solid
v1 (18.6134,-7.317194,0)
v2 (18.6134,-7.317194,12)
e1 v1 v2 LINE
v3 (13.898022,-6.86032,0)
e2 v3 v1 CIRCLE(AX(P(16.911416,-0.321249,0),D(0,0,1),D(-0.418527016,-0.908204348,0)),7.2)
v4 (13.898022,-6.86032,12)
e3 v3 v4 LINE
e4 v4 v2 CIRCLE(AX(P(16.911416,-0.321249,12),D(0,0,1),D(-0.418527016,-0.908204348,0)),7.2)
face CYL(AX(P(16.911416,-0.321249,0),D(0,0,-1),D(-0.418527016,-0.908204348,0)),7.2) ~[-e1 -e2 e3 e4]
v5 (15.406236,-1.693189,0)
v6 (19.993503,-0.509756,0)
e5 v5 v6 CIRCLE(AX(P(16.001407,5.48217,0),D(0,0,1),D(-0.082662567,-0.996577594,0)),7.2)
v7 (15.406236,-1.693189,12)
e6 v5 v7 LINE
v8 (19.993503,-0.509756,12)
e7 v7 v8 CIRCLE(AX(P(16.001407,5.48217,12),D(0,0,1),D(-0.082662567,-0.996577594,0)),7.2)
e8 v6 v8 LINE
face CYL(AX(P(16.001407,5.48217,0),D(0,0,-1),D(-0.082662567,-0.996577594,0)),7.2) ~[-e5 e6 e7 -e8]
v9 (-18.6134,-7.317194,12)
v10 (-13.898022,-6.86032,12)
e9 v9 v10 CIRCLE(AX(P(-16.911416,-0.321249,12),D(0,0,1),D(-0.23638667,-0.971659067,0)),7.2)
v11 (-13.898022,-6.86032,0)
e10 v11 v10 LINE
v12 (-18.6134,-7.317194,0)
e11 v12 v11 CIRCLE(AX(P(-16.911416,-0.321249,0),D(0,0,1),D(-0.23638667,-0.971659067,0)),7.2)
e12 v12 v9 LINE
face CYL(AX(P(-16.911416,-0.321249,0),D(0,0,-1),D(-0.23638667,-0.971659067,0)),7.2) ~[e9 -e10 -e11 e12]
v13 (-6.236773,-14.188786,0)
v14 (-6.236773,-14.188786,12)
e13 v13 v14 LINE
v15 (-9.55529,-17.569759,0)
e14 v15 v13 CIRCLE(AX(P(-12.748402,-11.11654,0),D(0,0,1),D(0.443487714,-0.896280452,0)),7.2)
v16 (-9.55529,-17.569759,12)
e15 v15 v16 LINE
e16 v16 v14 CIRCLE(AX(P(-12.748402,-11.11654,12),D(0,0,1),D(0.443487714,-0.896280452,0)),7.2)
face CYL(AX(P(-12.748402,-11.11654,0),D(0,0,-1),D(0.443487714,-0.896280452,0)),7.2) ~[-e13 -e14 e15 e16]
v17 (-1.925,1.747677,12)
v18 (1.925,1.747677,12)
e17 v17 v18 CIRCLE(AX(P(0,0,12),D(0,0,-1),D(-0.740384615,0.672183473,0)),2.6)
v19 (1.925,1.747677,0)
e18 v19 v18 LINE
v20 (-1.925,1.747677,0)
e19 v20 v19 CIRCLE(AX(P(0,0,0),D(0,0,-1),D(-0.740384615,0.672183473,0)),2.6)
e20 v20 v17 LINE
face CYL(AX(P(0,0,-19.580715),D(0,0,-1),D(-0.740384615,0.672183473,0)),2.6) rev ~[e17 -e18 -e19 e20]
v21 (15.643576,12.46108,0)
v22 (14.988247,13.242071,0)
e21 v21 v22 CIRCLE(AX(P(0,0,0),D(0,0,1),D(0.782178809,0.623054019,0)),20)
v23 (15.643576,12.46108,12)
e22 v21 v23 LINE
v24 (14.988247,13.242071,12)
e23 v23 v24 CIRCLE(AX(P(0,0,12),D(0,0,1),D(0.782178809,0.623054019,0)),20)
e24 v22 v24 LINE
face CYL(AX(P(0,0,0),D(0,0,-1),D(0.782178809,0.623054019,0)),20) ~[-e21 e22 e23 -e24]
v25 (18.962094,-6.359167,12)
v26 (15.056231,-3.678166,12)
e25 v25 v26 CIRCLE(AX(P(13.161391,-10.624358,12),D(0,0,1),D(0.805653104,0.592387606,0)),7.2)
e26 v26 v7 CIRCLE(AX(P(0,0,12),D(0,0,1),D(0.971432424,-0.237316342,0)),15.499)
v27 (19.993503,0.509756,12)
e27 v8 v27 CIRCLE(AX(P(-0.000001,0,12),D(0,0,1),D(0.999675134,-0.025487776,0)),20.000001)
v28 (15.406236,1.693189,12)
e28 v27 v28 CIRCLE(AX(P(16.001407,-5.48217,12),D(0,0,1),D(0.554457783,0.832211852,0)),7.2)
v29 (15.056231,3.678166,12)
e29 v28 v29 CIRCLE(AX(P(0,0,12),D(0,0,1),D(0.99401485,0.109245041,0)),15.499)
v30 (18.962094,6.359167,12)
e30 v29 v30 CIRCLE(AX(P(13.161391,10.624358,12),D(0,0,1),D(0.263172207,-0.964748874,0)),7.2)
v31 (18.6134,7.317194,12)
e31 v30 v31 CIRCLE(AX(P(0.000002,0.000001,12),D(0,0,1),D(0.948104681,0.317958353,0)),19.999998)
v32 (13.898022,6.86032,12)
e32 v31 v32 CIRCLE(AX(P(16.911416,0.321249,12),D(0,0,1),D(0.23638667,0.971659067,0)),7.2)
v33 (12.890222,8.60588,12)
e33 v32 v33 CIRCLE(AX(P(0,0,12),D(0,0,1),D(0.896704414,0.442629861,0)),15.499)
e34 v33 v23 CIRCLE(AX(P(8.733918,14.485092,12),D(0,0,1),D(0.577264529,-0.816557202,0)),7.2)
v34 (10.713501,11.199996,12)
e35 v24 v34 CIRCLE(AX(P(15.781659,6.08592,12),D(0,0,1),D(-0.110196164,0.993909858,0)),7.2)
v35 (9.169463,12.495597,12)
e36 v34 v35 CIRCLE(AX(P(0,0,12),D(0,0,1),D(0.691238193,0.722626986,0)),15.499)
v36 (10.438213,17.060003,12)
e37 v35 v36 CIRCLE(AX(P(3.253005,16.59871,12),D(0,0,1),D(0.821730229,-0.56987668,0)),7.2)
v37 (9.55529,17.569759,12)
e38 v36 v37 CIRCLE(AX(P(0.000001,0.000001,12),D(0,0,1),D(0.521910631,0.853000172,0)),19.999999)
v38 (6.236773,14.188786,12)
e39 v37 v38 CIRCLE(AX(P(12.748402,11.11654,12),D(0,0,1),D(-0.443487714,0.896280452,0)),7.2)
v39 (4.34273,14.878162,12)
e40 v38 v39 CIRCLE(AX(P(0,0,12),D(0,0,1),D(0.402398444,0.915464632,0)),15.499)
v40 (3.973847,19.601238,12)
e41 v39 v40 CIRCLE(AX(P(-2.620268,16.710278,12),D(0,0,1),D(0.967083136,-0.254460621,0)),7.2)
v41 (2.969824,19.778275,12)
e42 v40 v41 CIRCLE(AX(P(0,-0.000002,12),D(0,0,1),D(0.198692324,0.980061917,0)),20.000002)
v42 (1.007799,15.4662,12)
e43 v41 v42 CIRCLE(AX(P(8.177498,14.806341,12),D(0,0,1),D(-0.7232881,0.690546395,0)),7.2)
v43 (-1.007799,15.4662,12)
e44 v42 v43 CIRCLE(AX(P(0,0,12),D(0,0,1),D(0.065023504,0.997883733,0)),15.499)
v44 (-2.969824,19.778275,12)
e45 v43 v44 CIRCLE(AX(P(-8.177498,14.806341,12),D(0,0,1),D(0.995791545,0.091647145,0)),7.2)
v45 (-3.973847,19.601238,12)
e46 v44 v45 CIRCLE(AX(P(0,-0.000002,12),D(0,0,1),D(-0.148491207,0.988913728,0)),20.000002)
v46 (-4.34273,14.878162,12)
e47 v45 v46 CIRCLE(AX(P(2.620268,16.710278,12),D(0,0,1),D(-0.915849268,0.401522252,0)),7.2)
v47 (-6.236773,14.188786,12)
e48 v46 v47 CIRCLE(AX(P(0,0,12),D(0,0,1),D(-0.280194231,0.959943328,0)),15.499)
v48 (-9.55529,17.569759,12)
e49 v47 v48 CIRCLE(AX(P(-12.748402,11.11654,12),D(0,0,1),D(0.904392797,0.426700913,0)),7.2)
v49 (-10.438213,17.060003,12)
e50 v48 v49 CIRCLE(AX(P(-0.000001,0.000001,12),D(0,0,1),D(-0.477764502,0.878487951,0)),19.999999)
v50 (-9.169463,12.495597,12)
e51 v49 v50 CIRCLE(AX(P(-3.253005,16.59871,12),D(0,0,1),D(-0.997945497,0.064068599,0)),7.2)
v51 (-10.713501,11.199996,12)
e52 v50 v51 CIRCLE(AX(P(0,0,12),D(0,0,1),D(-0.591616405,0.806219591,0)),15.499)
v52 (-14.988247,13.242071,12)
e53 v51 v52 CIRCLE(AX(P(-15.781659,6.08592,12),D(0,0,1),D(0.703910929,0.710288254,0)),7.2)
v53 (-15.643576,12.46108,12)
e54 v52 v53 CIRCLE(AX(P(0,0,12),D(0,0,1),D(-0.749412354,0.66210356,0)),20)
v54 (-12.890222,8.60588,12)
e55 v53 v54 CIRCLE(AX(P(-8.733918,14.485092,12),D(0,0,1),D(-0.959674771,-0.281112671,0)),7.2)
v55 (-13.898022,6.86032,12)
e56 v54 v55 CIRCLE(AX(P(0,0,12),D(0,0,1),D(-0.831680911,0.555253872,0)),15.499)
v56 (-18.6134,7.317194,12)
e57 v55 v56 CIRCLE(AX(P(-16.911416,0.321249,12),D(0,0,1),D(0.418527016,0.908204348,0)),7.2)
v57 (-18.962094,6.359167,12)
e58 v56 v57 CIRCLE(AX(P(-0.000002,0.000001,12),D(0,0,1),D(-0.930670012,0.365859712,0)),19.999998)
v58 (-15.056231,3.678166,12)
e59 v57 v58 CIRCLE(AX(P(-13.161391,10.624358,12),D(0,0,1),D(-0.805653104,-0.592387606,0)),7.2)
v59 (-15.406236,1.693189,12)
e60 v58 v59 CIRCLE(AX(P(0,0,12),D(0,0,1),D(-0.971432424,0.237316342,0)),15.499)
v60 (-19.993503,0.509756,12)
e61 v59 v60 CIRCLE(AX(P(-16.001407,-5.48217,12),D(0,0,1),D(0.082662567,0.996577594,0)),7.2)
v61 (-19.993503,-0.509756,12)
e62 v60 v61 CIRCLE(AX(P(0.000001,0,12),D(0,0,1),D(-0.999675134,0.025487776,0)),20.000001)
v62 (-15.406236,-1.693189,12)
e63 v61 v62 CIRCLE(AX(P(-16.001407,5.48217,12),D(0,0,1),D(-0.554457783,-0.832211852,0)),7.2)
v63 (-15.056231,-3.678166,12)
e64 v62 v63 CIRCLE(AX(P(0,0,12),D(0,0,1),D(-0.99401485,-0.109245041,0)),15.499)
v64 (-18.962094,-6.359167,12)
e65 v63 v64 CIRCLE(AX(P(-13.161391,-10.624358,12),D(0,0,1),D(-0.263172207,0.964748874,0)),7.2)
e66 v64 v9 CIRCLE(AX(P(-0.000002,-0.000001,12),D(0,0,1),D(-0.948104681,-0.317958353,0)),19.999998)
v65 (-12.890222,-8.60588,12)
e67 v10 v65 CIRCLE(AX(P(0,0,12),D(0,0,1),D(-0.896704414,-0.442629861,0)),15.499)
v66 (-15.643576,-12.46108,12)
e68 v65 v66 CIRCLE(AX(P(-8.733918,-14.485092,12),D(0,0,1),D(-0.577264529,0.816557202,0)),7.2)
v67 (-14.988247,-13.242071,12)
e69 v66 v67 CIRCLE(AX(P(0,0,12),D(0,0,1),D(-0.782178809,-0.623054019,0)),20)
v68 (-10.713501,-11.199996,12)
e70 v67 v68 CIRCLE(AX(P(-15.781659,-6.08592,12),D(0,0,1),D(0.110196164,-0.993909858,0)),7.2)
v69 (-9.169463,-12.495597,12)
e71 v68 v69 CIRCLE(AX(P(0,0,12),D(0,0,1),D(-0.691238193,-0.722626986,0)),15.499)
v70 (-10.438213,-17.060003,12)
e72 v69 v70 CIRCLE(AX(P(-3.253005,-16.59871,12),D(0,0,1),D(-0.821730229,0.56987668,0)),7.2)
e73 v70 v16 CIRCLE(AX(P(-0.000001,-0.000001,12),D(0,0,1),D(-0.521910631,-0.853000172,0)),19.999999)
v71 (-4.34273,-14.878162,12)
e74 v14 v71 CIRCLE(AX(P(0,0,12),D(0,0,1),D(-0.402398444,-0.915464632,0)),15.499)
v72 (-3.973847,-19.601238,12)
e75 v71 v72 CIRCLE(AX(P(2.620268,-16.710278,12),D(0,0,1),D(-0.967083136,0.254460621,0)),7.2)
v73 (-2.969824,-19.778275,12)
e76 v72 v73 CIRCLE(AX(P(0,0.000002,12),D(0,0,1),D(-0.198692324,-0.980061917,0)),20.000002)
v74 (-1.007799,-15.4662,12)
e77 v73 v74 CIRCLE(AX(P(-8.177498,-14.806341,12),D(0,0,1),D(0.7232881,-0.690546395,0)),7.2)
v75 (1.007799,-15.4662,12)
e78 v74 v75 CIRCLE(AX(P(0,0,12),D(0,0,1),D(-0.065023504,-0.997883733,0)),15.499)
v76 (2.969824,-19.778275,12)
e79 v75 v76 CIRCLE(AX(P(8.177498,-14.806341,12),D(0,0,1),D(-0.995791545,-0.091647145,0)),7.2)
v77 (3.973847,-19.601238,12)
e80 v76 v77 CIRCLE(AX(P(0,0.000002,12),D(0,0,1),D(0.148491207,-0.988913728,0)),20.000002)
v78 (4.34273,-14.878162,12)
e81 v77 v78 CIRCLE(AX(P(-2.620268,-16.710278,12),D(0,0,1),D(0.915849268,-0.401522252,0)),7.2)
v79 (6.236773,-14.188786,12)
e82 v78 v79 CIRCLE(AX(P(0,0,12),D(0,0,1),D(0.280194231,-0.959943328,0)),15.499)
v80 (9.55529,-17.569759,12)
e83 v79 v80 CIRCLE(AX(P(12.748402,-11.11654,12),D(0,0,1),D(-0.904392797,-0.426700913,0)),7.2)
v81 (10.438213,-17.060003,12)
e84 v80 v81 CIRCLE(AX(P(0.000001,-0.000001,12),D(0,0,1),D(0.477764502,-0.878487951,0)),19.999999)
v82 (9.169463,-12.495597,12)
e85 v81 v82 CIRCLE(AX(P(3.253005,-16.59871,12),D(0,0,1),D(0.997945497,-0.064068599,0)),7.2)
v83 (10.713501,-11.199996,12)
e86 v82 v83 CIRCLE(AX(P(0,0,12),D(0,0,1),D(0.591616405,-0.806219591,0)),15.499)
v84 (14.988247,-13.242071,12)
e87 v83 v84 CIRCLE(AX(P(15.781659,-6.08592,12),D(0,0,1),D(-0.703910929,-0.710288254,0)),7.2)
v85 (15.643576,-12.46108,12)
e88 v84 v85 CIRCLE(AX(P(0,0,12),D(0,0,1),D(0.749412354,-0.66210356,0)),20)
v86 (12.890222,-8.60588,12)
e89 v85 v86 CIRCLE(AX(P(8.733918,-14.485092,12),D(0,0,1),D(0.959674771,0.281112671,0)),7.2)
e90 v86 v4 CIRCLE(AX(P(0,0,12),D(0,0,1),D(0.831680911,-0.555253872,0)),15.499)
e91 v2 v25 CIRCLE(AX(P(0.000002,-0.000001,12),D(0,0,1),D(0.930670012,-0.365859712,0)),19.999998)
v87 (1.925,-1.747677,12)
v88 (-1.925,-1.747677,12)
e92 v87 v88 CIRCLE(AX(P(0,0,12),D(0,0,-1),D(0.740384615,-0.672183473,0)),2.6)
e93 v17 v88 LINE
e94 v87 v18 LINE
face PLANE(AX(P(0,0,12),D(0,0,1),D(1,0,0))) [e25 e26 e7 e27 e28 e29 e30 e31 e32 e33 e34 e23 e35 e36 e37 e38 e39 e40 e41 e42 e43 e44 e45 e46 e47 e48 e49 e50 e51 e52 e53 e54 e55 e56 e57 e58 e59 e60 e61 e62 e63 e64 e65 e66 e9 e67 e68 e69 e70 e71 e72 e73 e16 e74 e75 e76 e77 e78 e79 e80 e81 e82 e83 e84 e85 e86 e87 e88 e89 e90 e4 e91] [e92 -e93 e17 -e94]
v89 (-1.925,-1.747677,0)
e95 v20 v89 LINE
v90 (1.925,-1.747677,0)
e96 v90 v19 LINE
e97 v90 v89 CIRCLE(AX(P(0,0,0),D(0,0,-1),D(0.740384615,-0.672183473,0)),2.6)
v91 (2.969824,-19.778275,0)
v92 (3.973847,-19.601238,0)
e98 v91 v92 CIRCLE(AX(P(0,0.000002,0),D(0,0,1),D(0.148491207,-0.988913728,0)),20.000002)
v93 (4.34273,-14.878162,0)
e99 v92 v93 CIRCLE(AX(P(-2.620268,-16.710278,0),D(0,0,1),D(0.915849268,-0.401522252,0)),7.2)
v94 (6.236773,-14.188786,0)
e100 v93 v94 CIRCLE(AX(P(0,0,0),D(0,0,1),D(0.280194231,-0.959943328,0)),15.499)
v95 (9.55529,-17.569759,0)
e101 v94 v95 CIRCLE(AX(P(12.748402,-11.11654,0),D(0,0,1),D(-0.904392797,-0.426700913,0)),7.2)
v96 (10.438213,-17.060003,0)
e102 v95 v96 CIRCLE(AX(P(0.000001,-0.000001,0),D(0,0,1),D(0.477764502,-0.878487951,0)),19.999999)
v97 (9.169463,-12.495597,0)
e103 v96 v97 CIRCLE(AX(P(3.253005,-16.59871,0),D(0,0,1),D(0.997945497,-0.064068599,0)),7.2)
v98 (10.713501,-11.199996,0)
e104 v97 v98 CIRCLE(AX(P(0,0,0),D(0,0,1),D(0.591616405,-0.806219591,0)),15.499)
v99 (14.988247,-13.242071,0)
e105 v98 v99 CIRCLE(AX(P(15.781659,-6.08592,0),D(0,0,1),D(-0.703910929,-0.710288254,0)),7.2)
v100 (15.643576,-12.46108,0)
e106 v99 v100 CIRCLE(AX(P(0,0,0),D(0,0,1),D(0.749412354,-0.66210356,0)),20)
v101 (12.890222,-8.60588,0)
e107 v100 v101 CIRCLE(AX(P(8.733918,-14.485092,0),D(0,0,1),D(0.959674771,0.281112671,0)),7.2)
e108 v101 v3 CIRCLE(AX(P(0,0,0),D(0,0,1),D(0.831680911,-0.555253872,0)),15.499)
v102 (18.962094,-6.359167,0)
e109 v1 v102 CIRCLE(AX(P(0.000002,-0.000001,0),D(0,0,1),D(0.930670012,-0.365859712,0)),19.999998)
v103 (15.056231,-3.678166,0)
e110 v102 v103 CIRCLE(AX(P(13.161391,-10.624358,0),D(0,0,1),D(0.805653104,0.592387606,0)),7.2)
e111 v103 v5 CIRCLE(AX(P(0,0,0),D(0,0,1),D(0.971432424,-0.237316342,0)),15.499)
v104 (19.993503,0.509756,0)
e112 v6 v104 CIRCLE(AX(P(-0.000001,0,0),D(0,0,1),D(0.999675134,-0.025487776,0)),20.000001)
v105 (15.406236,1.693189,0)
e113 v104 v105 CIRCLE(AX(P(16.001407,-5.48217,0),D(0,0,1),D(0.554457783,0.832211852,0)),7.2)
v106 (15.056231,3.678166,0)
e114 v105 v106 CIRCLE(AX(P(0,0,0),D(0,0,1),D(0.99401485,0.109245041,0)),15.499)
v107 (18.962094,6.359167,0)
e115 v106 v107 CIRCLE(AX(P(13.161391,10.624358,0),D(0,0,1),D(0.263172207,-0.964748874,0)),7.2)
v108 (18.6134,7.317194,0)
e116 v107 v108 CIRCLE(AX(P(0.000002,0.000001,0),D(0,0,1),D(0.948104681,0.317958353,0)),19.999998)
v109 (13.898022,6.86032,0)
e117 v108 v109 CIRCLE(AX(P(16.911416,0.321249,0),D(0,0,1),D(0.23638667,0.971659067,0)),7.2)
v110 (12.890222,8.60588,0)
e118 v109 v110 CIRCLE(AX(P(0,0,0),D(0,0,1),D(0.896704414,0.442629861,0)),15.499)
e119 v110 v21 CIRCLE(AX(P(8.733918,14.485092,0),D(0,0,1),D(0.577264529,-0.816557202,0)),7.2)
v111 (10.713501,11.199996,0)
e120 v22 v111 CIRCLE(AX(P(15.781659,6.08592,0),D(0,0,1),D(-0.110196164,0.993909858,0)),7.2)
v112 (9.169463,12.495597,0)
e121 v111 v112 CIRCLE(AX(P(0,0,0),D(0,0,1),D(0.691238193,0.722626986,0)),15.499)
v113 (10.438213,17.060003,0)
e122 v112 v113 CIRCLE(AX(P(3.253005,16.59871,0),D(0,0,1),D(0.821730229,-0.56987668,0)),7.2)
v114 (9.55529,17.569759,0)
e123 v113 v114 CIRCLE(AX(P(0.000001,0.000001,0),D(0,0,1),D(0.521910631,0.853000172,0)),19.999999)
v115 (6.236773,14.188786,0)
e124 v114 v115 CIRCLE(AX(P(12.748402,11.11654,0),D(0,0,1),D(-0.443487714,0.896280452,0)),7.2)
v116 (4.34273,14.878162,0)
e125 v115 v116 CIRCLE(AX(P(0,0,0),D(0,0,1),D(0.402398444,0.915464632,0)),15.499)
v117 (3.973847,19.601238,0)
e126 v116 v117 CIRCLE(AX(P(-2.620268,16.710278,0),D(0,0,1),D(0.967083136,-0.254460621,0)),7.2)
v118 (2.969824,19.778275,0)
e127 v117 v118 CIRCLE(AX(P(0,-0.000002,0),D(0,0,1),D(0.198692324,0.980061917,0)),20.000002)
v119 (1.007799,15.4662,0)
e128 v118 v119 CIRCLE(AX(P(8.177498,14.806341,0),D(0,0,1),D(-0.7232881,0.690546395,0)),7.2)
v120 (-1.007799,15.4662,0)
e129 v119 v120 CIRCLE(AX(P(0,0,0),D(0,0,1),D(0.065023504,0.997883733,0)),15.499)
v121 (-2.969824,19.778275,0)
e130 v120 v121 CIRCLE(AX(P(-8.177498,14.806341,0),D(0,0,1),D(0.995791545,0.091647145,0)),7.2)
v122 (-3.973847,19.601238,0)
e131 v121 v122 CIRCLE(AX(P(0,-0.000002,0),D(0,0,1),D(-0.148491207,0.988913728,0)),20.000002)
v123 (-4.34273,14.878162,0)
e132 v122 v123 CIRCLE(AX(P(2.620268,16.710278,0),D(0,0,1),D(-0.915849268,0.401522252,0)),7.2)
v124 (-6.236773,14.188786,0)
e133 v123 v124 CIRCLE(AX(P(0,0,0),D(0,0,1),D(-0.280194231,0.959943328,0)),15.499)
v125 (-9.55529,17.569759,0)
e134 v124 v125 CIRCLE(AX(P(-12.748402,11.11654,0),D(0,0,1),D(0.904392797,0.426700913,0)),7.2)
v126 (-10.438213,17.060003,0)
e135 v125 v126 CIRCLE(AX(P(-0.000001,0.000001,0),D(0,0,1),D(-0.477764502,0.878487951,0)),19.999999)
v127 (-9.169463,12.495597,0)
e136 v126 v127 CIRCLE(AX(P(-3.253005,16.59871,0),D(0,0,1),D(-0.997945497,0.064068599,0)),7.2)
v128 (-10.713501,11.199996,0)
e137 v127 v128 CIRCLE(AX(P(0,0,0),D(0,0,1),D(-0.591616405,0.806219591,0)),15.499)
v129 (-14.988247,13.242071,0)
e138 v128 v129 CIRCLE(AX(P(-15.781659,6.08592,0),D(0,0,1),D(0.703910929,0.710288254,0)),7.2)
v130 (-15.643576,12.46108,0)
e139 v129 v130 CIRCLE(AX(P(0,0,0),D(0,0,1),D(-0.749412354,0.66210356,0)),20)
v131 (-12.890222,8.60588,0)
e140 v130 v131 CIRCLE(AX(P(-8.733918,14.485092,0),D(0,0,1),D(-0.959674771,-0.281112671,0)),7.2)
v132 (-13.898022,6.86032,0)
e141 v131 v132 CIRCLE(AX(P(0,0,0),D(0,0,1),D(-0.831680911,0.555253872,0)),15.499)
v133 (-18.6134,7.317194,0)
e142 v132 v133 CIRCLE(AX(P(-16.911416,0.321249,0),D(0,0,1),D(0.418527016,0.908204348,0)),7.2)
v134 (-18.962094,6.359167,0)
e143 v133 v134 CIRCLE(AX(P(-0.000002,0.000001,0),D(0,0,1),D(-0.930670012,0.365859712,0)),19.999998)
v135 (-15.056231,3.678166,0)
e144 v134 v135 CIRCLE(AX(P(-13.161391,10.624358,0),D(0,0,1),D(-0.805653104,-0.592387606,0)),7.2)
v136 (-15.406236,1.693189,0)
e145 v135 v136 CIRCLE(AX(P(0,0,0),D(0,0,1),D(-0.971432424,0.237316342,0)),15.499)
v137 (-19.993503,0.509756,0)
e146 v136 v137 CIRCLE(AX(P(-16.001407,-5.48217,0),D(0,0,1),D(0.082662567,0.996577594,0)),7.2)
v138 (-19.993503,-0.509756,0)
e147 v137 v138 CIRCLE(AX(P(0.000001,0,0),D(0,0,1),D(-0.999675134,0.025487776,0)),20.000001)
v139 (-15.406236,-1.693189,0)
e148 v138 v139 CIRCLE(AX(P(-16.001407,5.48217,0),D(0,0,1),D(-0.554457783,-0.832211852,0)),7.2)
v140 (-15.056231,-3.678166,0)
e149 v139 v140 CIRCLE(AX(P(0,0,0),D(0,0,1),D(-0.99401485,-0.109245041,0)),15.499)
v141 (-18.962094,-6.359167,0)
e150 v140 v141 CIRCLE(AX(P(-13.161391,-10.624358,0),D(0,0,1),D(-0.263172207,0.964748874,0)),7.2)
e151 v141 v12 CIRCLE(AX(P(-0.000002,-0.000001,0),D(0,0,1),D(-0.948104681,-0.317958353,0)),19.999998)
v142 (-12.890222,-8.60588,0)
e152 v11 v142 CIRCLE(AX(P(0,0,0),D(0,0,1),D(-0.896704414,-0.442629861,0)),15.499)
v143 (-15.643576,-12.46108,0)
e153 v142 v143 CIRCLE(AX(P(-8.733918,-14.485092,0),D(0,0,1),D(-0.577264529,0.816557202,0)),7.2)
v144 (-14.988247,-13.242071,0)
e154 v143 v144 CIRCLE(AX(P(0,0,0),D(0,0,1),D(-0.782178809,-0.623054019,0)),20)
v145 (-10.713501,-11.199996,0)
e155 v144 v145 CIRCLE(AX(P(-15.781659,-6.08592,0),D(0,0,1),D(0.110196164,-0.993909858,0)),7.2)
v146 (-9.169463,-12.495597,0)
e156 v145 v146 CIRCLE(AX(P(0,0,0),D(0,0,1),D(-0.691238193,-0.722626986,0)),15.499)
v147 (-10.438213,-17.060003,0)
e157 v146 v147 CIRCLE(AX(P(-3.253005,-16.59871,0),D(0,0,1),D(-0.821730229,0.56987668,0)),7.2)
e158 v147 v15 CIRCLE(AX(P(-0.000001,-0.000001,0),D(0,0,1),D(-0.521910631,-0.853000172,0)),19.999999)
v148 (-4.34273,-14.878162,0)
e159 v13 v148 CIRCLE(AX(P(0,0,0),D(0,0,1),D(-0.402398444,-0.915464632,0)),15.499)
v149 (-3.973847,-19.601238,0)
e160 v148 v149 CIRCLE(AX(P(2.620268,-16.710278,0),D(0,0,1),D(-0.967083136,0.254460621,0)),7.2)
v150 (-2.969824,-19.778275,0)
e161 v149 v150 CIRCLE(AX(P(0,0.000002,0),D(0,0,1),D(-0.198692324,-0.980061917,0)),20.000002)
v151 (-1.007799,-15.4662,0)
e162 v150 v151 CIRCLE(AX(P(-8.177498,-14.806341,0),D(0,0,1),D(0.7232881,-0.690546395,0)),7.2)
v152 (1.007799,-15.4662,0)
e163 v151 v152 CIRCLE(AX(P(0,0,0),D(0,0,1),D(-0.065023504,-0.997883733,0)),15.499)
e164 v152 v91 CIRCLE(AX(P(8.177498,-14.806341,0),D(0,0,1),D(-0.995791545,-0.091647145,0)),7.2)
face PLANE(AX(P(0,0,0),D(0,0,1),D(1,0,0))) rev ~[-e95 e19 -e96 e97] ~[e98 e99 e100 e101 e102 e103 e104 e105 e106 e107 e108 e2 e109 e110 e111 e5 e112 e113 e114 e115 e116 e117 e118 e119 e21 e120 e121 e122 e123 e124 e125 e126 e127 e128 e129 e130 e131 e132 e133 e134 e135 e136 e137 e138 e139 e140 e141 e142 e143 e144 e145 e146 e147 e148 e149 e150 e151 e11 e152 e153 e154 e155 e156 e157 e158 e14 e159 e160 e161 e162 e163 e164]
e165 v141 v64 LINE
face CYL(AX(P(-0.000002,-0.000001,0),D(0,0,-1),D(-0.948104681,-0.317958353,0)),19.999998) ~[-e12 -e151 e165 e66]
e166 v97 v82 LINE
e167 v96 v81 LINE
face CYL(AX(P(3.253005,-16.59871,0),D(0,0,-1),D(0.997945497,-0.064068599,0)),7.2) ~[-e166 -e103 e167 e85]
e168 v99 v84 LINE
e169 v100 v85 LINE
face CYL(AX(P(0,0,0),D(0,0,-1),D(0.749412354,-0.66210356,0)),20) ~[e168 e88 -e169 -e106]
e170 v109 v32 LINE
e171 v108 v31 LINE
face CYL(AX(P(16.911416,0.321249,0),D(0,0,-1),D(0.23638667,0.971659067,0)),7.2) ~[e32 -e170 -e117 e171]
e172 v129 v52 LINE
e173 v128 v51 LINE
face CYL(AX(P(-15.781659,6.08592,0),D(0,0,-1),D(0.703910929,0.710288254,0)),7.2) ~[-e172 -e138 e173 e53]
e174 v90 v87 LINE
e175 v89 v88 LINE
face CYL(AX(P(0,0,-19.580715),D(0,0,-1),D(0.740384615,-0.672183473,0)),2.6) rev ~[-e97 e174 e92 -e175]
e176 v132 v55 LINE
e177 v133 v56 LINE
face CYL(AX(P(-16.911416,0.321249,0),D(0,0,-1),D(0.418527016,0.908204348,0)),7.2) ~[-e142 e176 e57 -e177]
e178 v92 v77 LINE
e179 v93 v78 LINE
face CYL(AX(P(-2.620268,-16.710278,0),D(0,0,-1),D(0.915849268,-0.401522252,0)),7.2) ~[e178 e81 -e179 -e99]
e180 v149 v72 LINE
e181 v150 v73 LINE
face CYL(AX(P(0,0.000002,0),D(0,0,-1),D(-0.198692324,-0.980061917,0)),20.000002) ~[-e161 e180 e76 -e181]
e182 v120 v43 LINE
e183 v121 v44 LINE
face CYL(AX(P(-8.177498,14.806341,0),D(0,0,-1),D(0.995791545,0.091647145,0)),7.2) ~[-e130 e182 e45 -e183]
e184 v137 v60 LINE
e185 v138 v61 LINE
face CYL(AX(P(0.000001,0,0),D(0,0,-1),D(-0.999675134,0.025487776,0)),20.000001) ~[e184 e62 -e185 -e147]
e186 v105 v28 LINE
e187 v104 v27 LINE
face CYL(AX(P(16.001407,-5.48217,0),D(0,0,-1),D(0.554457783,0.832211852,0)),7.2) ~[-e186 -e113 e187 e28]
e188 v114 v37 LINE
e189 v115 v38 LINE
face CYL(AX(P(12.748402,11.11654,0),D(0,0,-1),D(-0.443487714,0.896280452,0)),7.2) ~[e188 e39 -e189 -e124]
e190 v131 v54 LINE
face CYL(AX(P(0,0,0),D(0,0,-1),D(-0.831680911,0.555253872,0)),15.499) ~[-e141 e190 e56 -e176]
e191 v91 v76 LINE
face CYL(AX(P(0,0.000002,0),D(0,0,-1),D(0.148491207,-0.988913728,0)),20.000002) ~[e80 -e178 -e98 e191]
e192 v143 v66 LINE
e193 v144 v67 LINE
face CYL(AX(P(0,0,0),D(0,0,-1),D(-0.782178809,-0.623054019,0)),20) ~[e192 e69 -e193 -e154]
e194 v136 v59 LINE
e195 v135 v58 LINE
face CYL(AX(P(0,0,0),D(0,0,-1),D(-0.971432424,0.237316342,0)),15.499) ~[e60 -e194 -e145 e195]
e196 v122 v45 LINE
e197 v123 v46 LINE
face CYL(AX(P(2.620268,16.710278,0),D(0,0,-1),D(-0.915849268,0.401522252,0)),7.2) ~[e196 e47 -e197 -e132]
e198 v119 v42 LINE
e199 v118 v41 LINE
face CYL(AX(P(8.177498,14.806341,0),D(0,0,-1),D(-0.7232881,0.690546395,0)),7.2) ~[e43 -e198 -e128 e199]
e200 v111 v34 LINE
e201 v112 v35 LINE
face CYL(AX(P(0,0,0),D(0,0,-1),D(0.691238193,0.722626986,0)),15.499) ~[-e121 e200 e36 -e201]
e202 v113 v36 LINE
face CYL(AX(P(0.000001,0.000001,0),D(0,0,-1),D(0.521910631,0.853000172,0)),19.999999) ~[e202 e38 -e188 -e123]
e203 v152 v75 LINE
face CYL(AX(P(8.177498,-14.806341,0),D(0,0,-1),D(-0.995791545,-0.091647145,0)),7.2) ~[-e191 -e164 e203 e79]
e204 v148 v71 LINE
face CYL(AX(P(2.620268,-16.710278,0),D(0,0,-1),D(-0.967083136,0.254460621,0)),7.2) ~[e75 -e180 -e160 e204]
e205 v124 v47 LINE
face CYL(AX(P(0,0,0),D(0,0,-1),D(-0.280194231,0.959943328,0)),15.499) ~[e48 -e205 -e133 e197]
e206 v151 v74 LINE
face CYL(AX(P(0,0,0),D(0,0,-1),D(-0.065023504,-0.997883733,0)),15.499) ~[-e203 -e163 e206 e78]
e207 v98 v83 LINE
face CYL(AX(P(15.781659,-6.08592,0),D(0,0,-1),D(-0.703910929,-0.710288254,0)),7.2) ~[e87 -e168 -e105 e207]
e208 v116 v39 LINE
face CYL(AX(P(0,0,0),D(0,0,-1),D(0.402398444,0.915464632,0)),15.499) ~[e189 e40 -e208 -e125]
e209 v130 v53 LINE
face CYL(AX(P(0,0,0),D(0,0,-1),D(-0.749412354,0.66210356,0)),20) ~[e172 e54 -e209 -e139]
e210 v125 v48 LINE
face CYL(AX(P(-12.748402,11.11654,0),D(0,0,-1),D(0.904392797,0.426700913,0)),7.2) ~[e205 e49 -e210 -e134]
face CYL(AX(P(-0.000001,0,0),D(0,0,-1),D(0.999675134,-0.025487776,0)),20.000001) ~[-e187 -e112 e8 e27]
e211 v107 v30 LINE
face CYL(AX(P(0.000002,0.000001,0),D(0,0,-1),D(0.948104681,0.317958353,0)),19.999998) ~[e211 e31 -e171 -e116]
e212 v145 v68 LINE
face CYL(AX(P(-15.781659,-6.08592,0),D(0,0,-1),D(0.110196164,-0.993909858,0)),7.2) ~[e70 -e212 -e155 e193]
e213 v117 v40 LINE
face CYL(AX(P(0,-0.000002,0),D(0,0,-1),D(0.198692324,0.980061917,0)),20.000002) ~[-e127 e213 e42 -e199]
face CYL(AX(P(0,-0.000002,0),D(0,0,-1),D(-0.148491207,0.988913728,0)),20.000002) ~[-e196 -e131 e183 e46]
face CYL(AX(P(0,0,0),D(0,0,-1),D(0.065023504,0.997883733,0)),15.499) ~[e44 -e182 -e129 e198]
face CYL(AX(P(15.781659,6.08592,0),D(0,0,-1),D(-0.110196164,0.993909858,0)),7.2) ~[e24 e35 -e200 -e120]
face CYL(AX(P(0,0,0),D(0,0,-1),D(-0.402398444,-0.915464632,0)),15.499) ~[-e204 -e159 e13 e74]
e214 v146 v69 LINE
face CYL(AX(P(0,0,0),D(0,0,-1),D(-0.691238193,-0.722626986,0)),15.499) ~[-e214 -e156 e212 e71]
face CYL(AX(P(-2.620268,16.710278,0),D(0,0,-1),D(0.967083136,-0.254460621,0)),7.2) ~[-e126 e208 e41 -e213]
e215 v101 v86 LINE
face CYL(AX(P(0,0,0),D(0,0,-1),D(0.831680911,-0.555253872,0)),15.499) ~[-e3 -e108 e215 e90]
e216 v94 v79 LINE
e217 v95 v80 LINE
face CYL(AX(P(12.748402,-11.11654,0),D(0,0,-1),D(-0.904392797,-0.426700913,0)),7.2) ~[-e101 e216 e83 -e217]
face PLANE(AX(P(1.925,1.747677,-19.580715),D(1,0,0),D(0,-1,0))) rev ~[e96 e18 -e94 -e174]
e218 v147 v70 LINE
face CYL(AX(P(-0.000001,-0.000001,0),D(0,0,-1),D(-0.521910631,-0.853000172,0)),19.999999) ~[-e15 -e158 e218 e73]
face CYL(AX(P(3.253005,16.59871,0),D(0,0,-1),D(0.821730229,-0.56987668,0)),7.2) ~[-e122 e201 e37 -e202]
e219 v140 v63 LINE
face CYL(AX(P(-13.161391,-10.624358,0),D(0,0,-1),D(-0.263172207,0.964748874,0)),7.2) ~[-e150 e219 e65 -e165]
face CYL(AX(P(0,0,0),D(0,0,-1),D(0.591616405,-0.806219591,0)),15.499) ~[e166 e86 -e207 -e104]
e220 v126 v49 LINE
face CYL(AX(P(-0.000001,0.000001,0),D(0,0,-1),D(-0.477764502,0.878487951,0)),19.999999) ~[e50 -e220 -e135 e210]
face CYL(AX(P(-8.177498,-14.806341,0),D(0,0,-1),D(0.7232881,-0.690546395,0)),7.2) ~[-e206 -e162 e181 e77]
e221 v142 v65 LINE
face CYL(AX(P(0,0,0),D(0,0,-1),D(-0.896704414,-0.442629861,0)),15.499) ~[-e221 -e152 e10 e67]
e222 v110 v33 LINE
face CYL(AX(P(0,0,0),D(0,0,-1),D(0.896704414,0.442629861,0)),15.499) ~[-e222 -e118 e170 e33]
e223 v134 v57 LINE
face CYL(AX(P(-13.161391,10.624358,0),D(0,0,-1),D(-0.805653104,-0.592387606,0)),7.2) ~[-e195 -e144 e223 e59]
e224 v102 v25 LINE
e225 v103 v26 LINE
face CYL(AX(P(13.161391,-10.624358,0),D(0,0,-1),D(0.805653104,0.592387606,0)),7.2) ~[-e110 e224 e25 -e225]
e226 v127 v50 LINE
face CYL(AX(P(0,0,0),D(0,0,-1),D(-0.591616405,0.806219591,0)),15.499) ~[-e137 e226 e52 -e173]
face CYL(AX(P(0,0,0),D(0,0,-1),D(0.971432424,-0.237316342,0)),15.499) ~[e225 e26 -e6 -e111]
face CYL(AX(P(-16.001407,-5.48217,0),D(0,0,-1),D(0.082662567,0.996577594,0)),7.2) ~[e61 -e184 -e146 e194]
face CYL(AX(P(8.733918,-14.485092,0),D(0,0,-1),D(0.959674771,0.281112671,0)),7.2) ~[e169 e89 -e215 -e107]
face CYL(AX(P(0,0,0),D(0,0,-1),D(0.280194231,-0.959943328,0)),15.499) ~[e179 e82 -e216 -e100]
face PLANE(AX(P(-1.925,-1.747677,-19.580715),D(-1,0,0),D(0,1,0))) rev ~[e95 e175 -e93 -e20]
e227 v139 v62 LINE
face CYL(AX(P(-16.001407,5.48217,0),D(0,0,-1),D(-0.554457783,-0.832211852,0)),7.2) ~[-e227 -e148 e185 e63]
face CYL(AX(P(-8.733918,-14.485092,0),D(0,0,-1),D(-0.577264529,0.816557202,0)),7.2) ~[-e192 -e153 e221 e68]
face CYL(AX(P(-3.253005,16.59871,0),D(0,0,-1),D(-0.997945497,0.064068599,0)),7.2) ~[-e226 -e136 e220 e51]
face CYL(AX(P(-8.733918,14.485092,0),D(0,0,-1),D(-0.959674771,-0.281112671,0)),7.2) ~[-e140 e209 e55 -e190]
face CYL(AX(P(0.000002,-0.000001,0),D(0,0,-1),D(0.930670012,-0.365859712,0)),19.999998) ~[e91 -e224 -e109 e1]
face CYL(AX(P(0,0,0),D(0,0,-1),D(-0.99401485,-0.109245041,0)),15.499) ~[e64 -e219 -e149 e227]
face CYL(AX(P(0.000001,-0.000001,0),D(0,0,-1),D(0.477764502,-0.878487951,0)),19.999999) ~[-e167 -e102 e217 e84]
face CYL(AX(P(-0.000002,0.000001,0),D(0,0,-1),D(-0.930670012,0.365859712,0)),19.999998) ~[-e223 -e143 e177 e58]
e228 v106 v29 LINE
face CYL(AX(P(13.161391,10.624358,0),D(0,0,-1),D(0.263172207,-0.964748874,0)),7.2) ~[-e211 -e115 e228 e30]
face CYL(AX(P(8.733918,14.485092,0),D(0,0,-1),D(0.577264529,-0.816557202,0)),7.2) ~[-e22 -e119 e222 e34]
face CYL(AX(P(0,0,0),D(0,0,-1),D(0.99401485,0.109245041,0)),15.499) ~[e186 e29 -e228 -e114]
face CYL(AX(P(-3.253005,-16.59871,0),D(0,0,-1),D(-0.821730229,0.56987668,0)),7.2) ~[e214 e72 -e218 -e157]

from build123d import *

# Parameters (mm, degrees)
SALIENTE_EXTRUIR1_DEPTH    = 12
CORTAR_EXTRUIR1_DEPTH      = 31.580715245
CORTAR_EXTRUIR1_DEPTH_BACK = 31.580715245


with BuildPart() as part:
    # Croquis2 → Saliente-Extruir1 (new body)
    with BuildSketch(Plane.XY):
        with BuildLine():
            ThreePointArc((-15.643576177, 12.461080386), (-14.593058293, 10.300539912), (-12.890222435, 8.605879768))
            ThreePointArc((-12.890222435, 8.605879768), (-13.422527733, 7.7495), (-13.898021719, 6.860320205))
            ThreePointArc((-13.898021719, 6.860320205), (-16.217058383, 7.487689244), (-18.613400261, 7.317194183))
            ThreePointArc((-18.613400261, 7.317194183), (-18.793852416, 6.840402867), (-18.962093596, 6.359167119))
            ThreePointArc((-18.962093596, 6.359167119), (-17.23598133, 4.688221457), (-15.056231134, 3.678165989))
            ThreePointArc((-15.056231134, 3.678165989), (-15.263535364, 2.691373106), (-15.406236152, 1.693188893))
            ThreePointArc((-15.406236152, 1.693188893), (-17.799990642, 1.489565697), (-19.993502677, 0.509755553))
            ThreePointArc((-19.993502677, 0.509755553), (-20, 0), (-19.993502677, -0.509755553))
            ThreePointArc((-19.993502677, -0.509755553), (-17.799990642, -1.489565697), (-15.406236152, -1.693188893))
            ThreePointArc((-15.406236152, -1.693188893), (-15.263535364, -2.691373106), (-15.056231134, -3.678165989))
            ThreePointArc((-15.056231134, -3.678165989), (-17.23598133, -4.688221457), (-18.962093596, -6.359167119))
            ThreePointArc((-18.962093596, -6.359167119), (-18.793852416, -6.840402867), (-18.613400261, -7.317194183))
            ThreePointArc((-18.613400261, -7.317194183), (-16.217058383, -7.487689244), (-13.898021719, -6.860320205))
            ThreePointArc((-13.898021719, -6.860320205), (-13.422527733, -7.7495), (-12.890222435, -8.605879768))
            ThreePointArc((-12.890222435, -8.605879768), (-14.593058293, -10.300539912), (-15.643576177, -12.461080386))
            ThreePointArc((-15.643576177, -12.461080386), (-15.320888862, -12.855752194), (-14.98824707, -13.242071204))
            ThreePointArc((-14.98824707, -13.242071204), (-12.678109545, -12.582686962), (-10.713500753, -11.199995653))
            ThreePointArc((-10.713500753, -11.199995653), (-9.962565163, -11.872922824), (-9.16946267, -12.495597438))
            ThreePointArc((-9.16946267, -12.495597438), (-10.189997055, -14.670461235), (-10.438212597, -17.060003452))
            ThreePointArc((-10.438212597, -17.060003452), (-10, -17.320508076), (-9.555290079, -17.569759005))
            ThreePointArc((-9.555290079, -17.569759005), (-7.609993587, -16.160026932), (-6.236773482, -14.188786331))
            ThreePointArc((-6.236773482, -14.188786331), (-5.300970201, -14.56429593), (-4.342730381, -14.878161642))
            ThreePointArc((-4.342730381, -14.878161642), (-4.557871785, -17.270908419), (-3.973846526, -19.601238323))
            ThreePointArc((-3.973846526, -19.601238323), (-3.472963553, -19.69615506), (-2.969824084, -19.778274569))
            ThreePointArc((-2.969824084, -19.778274569), (-1.62400009, -17.788229157), (-1.007799284, -15.466199973))
            ThreePointArc((-1.007799284, -15.466199973), (0, -15.499), (1.007799284, -15.466199973))
            ThreePointArc((1.007799284, -15.466199973), (1.62400009, -17.788229157), (2.969824084, -19.778274569))
            ThreePointArc((2.969824084, -19.778274569), (3.472963553, -19.69615506), (3.973846526, -19.601238323))
            ThreePointArc((3.973846526, -19.601238323), (4.557871785, -17.270908419), (4.342730381, -14.878161642))
            ThreePointArc((4.342730381, -14.878161642), (5.300970201, -14.56429593), (6.236773482, -14.188786331))
            ThreePointArc((6.236773482, -14.188786331), (7.609993587, -16.160026932), (9.555290079, -17.569759005))
            ThreePointArc((9.555290079, -17.569759005), (10, -17.320508076), (10.438212597, -17.060003452))
            ThreePointArc((10.438212597, -17.060003452), (10.189997055, -14.670461235), (9.16946267, -12.495597438))
            ThreePointArc((9.16946267, -12.495597438), (9.962565163, -11.872922824), (10.713500753, -11.199995653))
            ThreePointArc((10.713500753, -11.199995653), (12.678109545, -12.582686962), (14.98824707, -13.242071204))
            ThreePointArc((14.98824707, -13.242071204), (15.320888862, -12.855752194), (15.643576177, -12.461080386))
            ThreePointArc((15.643576177, -12.461080386), (14.593058293, -10.300539912), (12.890222435, -8.605879768))
            ThreePointArc((12.890222435, -8.605879768), (13.422527733, -7.7495), (13.898021719, -6.860320205))
            ThreePointArc((13.898021719, -6.860320205), (16.217058383, -7.487689244), (18.613400261, -7.317194183))
            ThreePointArc((18.613400261, -7.317194183), (18.793852416, -6.840402867), (18.962093596, -6.359167119))
            ThreePointArc((18.962093596, -6.359167119), (17.23598133, -4.688221457), (15.056231134, -3.678165989))
            ThreePointArc((15.056231134, -3.678165989), (15.263535364, -2.691373106), (15.406236152, -1.693188893))
            ThreePointArc((15.406236152, -1.693188893), (17.799990642, -1.489565697), (19.993502677, -0.509755553))
            ThreePointArc((19.993502677, -0.509755553), (20, 0), (19.993502677, 0.509755553))
            ThreePointArc((19.993502677, 0.509755553), (17.799990642, 1.489565697), (15.406236152, 1.693188893))
            ThreePointArc((15.406236152, 1.693188893), (15.263535364, 2.691373106), (15.056231134, 3.678165989))
            ThreePointArc((15.056231134, 3.678165989), (17.23598133, 4.688221457), (18.962093596, 6.359167119))
            ThreePointArc((18.962093596, 6.359167119), (18.793852416, 6.840402867), (18.613400261, 7.317194183))
            ThreePointArc((18.613400261, 7.317194183), (16.217058383, 7.487689244), (13.898021719, 6.860320205))
            ThreePointArc((13.898021719, 6.860320205), (13.422527733, 7.7495), (12.890222435, 8.605879768))
            ThreePointArc((12.890222435, 8.605879768), (14.593058293, 10.300539912), (15.643576177, 12.461080386))
            ThreePointArc((15.643576177, 12.461080386), (15.320888862, 12.855752194), (14.98824707, 13.242071204))
            ThreePointArc((14.98824707, 13.242071204), (12.678109545, 12.582686962), (10.713500753, 11.199995653))
            ThreePointArc((10.713500753, 11.199995653), (9.962565163, 11.872922824), (9.16946267, 12.495597438))
            ThreePointArc((9.16946267, 12.495597438), (10.189997055, 14.670461235), (10.438212597, 17.060003452))
            ThreePointArc((10.438212597, 17.060003452), (10, 17.320508076), (9.555290079, 17.569759005))
            ThreePointArc((9.555290079, 17.569759005), (7.609993587, 16.160026932), (6.236773482, 14.188786331))
            ThreePointArc((6.236773482, 14.188786331), (5.300970201, 14.56429593), (4.342730381, 14.878161642))
            ThreePointArc((4.342730381, 14.878161642), (4.557871785, 17.270908419), (3.973846526, 19.601238323))
            ThreePointArc((3.973846526, 19.601238323), (3.472963553, 19.69615506), (2.969824084, 19.778274569))
            ThreePointArc((2.969824084, 19.778274569), (1.62400009, 17.788229157), (1.007799284, 15.466199973))
            ThreePointArc((1.007799284, 15.466199973), (0, 15.499), (-1.007799284, 15.466199973))
            ThreePointArc((-1.007799284, 15.466199973), (-1.62400009, 17.788229157), (-2.969824084, 19.778274569))
            ThreePointArc((-2.969824084, 19.778274569), (-3.472963553, 19.69615506), (-3.973846526, 19.601238323))
            ThreePointArc((-3.973846526, 19.601238323), (-4.557871785, 17.270908419), (-4.342730381, 14.878161642))
            ThreePointArc((-4.342730381, 14.878161642), (-5.300970201, 14.56429593), (-6.236773482, 14.188786331))
            ThreePointArc((-6.236773482, 14.188786331), (-7.609993587, 16.160026932), (-9.555290079, 17.569759005))
            ThreePointArc((-9.555290079, 17.569759005), (-10, 17.320508076), (-10.438212597, 17.060003452))
            ThreePointArc((-10.438212597, 17.060003452), (-10.189997055, 14.670461235), (-9.16946267, 12.495597438))
            ThreePointArc((-9.16946267, 12.495597438), (-9.962565163, 11.872922824), (-10.713500753, 11.199995653))
            ThreePointArc((-10.713500753, 11.199995653), (-12.678109545, 12.582686962), (-14.98824707, 13.242071204))
            ThreePointArc((-14.98824707, 13.242071204), (-15.320888862, 12.855752194), (-15.643576177, 12.461080386))
        make_face()
    extrude(amount=SALIENTE_EXTRUIR1_DEPTH)

    # Croquis3 → Cortar-Extruir1 (cut, two sides: drawn at the far end of the back side and taken through both)
    with BuildSketch(Plane.XY.offset(12).offset(-CORTAR_EXTRUIR1_DEPTH_BACK)):
        with BuildLine():
            Line((-1.925, -1.74767703), (-1.925, 1.74767703))
            ThreePointArc((-1.925, 1.74767703), (0, 2.6), (1.925, 1.74767703))
            Line((1.925, 1.74767703), (1.925, -1.74767703))
            ThreePointArc((1.925, -1.74767703), (0, -2.6), (-1.925, -1.74767703))
        make_face()
    extrude(amount=CORTAR_EXTRUIR1_DEPTH + CORTAR_EXTRUIR1_DEPTH_BACK, mode=Mode.SUBTRACT)


solid = part.part
